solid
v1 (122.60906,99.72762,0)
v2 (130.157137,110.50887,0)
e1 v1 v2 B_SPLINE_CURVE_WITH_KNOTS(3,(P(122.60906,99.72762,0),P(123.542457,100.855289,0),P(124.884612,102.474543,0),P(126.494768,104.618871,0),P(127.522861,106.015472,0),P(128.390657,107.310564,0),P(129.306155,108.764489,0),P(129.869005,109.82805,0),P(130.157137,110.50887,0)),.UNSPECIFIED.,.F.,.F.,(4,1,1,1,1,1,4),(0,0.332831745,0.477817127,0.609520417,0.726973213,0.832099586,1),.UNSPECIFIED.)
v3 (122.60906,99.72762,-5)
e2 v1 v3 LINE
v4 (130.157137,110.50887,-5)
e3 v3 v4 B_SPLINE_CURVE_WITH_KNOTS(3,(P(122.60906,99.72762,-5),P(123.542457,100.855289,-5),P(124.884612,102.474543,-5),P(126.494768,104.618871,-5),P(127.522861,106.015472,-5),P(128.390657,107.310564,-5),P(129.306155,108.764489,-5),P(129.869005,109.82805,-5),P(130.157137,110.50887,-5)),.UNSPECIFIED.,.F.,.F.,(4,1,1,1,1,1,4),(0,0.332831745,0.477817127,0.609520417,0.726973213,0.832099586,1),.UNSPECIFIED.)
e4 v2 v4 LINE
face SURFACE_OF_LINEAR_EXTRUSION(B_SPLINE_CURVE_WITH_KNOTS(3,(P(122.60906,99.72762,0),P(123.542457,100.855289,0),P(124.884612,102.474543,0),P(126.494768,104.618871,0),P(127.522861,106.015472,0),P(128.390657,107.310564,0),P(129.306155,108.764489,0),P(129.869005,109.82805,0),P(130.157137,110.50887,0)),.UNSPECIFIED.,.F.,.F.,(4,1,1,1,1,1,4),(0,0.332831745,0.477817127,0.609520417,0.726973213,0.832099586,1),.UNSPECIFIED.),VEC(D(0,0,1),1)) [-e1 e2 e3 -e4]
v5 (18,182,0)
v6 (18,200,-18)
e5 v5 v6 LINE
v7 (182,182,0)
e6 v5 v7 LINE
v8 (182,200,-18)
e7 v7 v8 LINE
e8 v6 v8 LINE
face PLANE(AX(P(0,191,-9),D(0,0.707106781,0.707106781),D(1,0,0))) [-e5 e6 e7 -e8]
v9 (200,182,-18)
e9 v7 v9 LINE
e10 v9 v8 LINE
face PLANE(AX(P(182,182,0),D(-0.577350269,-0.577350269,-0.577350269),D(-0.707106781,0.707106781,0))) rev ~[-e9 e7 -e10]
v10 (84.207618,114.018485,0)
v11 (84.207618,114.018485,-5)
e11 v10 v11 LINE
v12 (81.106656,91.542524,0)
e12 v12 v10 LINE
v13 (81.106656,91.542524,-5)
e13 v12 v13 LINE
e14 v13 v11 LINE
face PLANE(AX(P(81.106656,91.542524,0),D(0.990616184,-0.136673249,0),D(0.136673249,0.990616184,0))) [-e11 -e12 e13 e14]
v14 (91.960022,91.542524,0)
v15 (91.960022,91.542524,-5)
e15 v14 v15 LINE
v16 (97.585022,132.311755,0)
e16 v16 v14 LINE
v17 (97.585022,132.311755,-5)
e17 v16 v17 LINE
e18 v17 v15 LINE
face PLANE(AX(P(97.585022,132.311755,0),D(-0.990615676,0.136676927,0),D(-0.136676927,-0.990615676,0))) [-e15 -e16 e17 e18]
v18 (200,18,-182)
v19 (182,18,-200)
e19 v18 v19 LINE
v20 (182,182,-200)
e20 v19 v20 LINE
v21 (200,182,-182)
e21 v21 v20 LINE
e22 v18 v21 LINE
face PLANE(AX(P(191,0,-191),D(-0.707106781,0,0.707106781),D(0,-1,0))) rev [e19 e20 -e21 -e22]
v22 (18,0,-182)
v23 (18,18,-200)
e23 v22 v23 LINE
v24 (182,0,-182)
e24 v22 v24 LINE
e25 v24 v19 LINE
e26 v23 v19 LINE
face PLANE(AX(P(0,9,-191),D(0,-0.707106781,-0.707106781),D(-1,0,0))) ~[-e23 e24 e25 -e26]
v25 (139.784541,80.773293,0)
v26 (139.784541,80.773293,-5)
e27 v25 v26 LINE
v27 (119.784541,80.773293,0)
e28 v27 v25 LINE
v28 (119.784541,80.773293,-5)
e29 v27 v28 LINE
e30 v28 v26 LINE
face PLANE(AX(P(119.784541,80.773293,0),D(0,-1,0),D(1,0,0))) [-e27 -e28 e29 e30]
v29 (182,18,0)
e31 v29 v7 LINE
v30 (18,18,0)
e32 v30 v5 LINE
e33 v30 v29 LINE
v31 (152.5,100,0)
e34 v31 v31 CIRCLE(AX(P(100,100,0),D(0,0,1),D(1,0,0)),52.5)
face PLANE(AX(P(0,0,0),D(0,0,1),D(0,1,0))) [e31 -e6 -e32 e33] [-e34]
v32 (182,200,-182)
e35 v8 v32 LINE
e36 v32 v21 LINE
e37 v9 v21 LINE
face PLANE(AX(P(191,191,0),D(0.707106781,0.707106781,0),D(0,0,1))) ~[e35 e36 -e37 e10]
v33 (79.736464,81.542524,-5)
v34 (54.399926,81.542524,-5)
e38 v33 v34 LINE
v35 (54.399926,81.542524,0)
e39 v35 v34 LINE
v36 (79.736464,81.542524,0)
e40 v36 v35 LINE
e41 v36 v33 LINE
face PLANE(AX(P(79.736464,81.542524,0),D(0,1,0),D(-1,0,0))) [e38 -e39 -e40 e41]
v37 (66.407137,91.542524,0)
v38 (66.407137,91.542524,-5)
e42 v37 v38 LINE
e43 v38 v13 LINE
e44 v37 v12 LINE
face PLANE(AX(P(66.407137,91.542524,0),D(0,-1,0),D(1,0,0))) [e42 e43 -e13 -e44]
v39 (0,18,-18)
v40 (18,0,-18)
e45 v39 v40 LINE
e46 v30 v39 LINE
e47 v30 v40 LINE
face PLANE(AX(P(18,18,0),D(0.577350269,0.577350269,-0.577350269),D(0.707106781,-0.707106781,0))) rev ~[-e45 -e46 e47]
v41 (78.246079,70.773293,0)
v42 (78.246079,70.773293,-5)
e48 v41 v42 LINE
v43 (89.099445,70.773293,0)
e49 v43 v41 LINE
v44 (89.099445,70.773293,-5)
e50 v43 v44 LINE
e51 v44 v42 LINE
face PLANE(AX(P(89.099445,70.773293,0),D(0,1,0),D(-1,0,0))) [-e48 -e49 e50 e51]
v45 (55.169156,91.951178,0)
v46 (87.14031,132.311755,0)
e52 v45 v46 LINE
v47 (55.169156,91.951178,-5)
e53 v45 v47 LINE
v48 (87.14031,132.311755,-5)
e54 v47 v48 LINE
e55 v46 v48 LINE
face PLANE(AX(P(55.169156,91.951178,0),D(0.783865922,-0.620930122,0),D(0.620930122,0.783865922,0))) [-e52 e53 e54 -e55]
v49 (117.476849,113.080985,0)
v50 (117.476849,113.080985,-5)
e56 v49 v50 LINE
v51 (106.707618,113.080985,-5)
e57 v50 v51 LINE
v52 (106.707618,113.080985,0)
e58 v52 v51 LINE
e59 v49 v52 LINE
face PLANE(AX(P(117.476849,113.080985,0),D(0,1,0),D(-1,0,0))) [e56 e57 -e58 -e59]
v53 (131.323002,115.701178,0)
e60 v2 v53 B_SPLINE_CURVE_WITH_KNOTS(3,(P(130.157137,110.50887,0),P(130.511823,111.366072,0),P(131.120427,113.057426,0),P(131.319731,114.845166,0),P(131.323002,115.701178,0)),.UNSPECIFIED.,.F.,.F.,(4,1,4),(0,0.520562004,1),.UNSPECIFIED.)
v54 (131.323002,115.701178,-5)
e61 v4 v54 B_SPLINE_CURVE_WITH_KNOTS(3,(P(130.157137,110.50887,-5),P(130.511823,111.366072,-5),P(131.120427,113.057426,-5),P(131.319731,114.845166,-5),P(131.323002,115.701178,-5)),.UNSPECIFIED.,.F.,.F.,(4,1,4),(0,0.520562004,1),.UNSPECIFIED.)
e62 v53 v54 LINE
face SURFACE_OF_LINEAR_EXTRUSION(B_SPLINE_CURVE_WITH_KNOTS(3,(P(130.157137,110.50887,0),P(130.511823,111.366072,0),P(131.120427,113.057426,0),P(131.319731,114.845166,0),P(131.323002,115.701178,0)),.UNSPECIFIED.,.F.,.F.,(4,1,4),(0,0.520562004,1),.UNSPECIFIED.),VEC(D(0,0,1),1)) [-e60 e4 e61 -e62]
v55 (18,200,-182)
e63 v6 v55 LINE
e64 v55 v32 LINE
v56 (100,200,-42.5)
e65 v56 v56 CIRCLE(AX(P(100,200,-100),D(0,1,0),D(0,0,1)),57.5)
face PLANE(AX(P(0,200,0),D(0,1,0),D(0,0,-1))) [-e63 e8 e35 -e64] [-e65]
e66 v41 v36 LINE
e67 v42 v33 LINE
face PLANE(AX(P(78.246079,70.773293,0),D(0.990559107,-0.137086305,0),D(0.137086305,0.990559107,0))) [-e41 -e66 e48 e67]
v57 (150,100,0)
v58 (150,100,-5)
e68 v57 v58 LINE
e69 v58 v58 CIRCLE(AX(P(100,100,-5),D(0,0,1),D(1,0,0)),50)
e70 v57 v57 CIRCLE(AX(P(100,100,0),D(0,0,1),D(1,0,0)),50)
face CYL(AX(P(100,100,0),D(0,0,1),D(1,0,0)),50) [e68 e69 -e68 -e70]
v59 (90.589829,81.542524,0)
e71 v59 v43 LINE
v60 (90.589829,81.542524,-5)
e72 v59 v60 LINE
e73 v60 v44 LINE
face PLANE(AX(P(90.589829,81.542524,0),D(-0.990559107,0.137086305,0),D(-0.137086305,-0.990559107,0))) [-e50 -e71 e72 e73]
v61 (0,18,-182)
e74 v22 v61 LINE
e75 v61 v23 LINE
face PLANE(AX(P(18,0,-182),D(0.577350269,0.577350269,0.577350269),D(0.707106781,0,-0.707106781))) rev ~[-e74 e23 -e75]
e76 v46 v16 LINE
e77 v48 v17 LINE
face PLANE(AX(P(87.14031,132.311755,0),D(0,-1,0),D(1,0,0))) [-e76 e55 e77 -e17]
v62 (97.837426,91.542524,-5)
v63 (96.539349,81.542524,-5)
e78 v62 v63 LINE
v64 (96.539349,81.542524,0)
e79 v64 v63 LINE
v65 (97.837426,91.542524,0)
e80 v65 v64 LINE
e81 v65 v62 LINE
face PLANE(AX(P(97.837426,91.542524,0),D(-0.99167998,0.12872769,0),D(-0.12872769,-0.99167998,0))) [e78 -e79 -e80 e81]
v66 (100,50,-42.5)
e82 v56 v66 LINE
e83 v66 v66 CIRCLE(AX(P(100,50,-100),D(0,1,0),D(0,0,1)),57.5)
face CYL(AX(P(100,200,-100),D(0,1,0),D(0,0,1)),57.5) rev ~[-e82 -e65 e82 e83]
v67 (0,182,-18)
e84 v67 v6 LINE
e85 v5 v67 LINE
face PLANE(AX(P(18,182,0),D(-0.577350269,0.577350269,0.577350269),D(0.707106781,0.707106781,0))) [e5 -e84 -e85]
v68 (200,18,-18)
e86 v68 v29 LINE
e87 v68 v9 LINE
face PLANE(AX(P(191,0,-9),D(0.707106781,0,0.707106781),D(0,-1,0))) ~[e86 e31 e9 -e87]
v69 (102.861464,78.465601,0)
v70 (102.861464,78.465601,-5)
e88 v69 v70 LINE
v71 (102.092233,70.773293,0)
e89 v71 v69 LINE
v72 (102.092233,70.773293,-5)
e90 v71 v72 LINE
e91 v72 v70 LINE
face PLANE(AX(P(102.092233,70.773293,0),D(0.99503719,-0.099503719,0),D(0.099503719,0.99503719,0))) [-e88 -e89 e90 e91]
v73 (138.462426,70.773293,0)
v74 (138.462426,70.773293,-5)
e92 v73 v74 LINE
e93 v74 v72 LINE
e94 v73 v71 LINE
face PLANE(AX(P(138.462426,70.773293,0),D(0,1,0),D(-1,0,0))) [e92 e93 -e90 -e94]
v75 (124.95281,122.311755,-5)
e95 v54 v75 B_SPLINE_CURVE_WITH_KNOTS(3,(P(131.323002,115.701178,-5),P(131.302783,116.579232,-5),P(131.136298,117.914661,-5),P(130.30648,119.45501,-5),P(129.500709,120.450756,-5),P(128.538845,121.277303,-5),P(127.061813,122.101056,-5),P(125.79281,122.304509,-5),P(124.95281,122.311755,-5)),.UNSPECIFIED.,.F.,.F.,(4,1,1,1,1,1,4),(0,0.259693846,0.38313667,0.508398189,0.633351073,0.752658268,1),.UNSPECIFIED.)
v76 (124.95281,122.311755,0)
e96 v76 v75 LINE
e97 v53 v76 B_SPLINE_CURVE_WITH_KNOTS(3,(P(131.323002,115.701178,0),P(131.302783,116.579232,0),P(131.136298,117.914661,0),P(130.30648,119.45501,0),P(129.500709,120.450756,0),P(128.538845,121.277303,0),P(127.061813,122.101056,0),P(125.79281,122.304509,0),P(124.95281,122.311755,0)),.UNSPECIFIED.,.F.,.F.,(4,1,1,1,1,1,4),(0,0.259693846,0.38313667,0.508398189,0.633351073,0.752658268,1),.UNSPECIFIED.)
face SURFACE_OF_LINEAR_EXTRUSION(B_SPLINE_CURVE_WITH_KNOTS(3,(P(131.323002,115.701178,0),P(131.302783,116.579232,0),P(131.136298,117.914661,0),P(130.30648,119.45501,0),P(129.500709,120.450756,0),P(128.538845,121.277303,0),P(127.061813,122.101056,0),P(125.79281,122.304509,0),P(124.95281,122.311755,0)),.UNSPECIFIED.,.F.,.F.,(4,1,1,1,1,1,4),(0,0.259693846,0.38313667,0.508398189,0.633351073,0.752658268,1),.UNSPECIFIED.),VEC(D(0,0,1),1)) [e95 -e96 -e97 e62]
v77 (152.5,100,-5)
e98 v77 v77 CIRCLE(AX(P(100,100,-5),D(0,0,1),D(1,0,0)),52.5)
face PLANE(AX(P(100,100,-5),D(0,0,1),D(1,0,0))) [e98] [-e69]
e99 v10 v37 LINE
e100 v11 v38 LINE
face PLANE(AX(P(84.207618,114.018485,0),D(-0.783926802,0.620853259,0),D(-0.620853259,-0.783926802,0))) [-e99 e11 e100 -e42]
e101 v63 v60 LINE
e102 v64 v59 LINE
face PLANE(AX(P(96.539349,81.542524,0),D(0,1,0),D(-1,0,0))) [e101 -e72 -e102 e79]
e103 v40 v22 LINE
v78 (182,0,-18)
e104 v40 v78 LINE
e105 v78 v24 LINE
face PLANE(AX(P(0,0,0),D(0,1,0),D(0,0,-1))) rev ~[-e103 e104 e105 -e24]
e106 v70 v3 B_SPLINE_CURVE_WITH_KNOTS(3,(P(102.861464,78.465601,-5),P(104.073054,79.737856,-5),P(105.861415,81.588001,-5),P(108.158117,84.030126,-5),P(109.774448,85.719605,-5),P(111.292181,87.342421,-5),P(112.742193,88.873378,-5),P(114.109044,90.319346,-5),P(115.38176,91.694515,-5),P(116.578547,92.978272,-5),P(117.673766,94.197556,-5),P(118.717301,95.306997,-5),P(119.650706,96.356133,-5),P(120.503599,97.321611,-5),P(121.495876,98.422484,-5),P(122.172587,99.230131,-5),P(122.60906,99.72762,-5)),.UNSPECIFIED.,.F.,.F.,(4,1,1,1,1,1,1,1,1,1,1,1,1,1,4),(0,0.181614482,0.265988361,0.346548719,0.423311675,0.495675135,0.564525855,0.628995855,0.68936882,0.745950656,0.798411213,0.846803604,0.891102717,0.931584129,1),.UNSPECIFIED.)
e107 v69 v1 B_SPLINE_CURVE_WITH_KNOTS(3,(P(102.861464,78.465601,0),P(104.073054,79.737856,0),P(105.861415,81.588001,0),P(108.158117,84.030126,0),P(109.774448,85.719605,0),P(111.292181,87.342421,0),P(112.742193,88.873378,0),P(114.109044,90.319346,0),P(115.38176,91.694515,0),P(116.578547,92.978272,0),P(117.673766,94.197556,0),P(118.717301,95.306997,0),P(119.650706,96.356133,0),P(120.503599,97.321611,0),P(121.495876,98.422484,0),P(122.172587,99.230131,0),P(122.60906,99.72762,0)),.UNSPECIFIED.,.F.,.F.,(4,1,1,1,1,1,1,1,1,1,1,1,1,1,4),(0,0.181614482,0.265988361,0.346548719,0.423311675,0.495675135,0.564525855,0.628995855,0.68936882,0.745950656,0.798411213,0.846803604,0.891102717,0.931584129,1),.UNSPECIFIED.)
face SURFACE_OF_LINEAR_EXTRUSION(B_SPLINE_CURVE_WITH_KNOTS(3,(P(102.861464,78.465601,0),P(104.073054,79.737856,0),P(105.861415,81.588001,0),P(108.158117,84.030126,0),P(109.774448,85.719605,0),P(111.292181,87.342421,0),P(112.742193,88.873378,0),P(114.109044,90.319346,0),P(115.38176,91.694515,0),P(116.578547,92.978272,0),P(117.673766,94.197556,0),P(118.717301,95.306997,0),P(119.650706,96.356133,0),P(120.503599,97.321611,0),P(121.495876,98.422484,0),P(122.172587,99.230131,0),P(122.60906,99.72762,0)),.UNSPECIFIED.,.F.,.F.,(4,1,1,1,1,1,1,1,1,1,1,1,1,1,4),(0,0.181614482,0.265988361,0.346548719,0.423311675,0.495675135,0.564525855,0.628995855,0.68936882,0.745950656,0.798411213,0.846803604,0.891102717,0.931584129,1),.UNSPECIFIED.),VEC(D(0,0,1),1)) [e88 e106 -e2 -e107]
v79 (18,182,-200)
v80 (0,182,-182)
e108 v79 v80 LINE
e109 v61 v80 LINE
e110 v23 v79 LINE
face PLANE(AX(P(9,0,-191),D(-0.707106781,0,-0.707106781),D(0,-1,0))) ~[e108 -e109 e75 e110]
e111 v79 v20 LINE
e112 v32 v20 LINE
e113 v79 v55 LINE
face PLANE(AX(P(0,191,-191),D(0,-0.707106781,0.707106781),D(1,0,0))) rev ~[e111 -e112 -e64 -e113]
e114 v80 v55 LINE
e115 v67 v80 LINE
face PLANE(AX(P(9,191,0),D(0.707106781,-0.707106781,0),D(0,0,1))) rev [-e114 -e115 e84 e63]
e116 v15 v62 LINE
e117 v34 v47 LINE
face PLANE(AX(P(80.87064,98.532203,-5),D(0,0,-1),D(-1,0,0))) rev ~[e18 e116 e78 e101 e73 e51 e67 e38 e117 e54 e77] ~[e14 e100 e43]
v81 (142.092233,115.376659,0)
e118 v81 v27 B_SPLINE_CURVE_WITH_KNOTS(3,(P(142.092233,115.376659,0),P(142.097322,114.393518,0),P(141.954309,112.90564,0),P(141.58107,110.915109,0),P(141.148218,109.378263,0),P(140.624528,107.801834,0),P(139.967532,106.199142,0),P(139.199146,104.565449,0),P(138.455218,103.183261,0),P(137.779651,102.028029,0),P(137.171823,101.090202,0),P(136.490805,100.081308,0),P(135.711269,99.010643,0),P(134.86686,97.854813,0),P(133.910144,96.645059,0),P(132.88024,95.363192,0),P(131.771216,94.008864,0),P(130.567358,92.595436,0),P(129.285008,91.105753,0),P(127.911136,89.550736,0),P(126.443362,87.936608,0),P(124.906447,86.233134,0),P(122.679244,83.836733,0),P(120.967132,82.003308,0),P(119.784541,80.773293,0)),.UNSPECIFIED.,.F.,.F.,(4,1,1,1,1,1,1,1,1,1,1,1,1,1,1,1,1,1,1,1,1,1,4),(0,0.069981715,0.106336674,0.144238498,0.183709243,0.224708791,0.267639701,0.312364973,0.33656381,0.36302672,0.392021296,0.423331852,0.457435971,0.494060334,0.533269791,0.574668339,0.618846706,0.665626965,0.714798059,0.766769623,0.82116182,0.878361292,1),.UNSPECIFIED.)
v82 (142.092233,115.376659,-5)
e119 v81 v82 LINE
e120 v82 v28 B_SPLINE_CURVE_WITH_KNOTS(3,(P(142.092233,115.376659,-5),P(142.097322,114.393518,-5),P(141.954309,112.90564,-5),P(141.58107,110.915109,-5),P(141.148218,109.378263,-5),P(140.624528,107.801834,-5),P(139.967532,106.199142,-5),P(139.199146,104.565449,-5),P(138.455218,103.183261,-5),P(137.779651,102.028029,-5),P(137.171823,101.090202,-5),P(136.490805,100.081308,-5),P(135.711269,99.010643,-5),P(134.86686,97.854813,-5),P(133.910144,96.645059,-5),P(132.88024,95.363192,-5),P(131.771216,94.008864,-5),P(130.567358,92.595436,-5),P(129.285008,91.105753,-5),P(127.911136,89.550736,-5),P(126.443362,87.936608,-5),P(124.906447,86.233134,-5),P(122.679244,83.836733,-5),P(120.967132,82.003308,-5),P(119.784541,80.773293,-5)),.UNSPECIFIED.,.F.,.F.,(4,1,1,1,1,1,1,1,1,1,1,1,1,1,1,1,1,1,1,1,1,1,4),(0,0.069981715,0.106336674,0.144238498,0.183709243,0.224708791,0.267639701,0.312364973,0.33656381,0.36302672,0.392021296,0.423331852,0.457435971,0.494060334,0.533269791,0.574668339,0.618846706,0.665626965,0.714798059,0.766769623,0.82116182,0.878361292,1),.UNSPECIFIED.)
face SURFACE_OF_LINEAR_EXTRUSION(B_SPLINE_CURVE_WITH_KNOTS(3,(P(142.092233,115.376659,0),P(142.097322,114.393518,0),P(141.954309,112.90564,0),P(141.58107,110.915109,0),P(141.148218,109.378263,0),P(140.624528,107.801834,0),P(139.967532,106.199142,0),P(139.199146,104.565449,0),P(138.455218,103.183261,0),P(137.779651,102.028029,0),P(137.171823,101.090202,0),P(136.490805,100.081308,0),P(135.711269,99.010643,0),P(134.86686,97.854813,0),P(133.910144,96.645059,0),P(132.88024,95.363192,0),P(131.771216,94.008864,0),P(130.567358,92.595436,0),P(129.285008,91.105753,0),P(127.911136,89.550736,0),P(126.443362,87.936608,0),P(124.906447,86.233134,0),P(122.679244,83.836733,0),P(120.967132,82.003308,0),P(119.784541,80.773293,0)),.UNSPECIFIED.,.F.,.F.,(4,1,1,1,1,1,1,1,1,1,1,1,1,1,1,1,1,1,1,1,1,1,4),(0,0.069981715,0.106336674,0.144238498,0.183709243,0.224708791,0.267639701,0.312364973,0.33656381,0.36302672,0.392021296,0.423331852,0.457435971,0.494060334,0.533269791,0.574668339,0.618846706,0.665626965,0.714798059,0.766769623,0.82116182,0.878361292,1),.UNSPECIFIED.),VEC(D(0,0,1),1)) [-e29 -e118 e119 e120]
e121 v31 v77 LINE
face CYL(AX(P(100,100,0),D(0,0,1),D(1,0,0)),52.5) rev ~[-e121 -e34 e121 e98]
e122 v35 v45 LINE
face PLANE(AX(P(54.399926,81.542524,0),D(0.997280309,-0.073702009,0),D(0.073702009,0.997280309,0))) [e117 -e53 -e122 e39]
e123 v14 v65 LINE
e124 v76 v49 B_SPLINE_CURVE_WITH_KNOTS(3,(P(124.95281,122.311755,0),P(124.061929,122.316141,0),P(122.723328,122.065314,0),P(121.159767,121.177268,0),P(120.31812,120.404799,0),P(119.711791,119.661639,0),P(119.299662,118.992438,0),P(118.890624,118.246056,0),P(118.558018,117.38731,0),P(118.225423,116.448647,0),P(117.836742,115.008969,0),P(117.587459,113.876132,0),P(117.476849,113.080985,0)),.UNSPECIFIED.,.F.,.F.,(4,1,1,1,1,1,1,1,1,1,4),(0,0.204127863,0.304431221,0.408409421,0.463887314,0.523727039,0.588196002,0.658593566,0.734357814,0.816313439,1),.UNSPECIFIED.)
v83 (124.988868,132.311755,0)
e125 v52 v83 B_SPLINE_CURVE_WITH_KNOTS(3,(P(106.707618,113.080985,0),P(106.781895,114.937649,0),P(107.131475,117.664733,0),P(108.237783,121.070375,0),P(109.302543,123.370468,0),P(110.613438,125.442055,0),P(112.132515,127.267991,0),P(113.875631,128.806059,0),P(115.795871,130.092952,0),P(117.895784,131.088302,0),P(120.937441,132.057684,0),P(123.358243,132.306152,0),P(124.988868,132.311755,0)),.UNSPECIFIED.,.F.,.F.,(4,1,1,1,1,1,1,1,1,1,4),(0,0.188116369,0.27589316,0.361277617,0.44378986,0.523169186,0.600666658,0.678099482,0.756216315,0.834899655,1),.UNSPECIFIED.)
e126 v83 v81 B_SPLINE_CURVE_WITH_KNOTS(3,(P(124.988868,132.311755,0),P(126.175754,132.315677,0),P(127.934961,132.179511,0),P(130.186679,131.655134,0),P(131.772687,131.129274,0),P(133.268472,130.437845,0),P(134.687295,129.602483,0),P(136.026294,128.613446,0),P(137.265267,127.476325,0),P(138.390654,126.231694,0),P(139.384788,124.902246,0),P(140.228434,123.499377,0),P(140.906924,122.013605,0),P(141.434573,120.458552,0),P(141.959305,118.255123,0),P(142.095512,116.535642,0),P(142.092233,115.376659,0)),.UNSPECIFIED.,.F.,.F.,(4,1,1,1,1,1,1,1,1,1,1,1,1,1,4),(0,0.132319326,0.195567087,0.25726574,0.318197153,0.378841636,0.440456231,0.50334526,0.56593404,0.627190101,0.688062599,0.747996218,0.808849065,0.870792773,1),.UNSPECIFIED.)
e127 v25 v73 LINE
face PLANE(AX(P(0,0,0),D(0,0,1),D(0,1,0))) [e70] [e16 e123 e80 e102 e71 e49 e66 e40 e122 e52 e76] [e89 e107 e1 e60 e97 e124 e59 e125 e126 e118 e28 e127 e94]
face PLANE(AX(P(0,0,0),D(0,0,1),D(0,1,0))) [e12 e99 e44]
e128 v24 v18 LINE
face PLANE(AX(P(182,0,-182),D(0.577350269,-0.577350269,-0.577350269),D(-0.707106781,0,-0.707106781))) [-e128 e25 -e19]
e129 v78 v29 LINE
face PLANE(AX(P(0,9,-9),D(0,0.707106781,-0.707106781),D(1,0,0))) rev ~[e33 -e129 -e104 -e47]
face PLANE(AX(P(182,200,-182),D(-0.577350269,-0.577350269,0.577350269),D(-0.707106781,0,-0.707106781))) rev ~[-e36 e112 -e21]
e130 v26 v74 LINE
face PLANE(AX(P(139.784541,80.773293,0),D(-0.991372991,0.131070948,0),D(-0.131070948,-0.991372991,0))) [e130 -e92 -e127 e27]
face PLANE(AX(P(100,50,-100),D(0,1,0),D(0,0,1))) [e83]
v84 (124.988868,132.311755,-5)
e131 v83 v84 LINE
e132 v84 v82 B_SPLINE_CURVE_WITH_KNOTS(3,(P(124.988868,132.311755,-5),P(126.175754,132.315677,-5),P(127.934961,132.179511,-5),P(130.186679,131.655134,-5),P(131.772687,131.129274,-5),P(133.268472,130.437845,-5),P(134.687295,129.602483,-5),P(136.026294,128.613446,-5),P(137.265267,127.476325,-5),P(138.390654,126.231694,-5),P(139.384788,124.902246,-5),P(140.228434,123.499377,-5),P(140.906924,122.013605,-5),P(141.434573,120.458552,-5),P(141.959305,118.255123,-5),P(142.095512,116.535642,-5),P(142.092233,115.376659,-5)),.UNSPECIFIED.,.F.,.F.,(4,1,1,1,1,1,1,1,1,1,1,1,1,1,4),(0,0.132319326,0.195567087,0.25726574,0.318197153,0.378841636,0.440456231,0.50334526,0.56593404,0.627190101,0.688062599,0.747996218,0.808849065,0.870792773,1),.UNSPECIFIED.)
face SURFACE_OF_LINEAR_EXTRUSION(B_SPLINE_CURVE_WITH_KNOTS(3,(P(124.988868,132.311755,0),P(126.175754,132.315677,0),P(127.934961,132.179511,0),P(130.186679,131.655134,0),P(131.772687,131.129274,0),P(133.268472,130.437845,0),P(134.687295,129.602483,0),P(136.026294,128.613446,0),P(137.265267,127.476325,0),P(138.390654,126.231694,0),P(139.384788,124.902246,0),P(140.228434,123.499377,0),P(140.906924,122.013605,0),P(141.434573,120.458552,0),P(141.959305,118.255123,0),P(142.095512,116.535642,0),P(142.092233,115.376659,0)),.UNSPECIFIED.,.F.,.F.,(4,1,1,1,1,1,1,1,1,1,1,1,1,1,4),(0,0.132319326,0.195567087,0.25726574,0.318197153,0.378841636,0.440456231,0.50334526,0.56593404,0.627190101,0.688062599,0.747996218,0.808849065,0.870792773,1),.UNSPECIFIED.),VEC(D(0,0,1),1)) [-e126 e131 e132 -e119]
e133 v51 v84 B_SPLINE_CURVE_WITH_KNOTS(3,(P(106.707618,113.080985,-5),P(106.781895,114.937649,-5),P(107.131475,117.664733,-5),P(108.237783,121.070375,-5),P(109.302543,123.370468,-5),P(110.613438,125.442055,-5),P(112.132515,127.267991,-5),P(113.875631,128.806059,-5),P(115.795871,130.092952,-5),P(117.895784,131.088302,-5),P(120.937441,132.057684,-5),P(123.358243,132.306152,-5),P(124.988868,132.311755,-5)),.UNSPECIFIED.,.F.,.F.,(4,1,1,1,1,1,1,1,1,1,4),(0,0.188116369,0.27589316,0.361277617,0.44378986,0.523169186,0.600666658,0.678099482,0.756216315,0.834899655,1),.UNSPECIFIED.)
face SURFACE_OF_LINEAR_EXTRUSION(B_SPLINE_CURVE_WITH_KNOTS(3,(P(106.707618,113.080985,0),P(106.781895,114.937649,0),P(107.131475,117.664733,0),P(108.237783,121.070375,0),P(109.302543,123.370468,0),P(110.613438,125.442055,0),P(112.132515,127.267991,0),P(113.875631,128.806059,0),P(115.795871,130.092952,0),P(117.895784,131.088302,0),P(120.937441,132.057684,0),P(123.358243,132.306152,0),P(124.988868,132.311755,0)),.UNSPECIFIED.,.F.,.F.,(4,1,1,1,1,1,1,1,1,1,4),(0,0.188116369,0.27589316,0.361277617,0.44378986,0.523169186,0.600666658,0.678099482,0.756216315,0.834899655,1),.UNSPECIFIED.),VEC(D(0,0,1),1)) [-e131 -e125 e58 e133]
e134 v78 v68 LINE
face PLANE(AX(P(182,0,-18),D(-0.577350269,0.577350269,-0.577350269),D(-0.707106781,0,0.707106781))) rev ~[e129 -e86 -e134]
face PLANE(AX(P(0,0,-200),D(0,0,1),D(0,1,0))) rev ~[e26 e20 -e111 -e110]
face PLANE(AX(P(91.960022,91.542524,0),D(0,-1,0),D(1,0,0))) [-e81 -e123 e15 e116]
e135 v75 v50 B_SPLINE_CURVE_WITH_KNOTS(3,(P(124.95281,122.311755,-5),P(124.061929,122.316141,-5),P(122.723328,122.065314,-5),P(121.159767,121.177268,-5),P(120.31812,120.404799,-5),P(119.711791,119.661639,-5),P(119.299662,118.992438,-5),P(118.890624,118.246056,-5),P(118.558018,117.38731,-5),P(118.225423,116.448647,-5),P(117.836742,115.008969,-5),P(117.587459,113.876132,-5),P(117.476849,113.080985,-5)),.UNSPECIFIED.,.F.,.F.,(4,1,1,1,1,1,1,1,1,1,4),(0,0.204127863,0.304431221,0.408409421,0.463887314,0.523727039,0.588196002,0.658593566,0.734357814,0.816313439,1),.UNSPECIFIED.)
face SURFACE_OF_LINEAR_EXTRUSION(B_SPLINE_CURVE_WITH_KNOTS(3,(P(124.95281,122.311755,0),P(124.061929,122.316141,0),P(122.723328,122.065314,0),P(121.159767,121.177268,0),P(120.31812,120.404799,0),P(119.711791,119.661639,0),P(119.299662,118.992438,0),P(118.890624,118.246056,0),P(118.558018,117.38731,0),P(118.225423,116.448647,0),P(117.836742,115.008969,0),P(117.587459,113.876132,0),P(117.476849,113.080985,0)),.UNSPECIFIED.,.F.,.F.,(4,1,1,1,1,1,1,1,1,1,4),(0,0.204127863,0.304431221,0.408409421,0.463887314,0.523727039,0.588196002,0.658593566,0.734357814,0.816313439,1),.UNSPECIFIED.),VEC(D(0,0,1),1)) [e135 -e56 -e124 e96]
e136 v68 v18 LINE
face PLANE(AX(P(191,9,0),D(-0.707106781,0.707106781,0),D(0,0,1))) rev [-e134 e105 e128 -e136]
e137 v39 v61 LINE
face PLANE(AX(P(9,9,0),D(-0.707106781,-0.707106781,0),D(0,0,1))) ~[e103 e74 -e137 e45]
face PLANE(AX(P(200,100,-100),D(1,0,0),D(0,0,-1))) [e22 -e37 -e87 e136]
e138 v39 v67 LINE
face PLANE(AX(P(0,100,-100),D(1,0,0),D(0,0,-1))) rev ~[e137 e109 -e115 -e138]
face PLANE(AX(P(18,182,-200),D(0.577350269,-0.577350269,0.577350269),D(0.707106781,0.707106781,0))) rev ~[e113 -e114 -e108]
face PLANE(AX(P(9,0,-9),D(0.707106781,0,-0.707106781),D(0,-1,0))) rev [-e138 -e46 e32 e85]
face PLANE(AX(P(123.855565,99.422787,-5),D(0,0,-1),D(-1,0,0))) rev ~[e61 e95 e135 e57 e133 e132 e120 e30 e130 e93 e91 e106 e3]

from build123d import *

# Parameters (mm, degrees)
SKETCH_1_W          = 200
SKETCH_1_H          = 200
EXTRUDE_1_DEPTH     = 200
CHAMFER_1_SIZE      = 18
SKETCH_2_R          = 57.5
CUT_EXTRUDE_1_DEPTH = 150
SKETCH_3_R          = 52.5
SKETCH_3_R_2        = 50
CUT_EXTRUDE_4_DEPTH = 5


with BuildPart() as part:
    # Sketch 1 → Extrude 1 (new body)
    with BuildSketch(Plane(origin=(0, 0, 0), x_dir=(0, 0, -1), z_dir=(1, 0, 0))):
        with Locations((100, 100)):
            Rectangle(SKETCH_1_W, SKETCH_1_H)
    extrude(amount=EXTRUDE_1_DEPTH)

    # Chamfer 1
    chamfer_1_edges = [part.edges().sort_by_distance(p)[0] for p in [
        (200, 100, -200),
        (200, 200, -100),
        (200, 100, 0),
        (0, 200, -100),
        (0, 100, -200),
        (0, 0, -100),
        (0, 100, 0),
        (200, 0, -100),
        (100, 200, 0),
        (100, 200, -200),
        (100, 0, -200),
        (100, 0, 0),
    ]]
    chamfer(chamfer_1_edges, length=CHAMFER_1_SIZE)

    # Sketch 2 → Cut-Extrude 1 (cut)
    with BuildSketch(Plane(origin=(0, 200, 0), x_dir=(1, 0, 0), z_dir=(0, 1, 0))):
        with Locations(Location((100, 100, 0), (0, 0, 270))):
            Circle(SKETCH_2_R)
    extrude(amount=-CUT_EXTRUDE_1_DEPTH, mode=Mode.SUBTRACT)

    # Sketch 3 → Cut-Extrude 4 (cut)
    with BuildSketch(Plane.XY):
        with Locations((100, 100)):
            Circle(SKETCH_3_R)
        with Locations((100, 100)):
            Circle(SKETCH_3_R_2, mode=Mode.SUBTRACT)
        with BuildLine():
            add(Edge.make_bspline(
                [(124.952810184, 122.311754672), (124.061928668, 122.316141415), (122.723328375, 122.065314477), (121.15976707, 121.17726781), (120.31812048, 120.404799304), (119.711791362, 119.661639483), (119.299662129, 118.992437635), (118.890623993, 118.246055909), (118.558018296, 117.387310251), (118.225423141, 116.448647339), (117.836741696, 115.008969129), (117.587459376, 113.876131637), (117.476848645, 113.080985442)],
                knots=[0, 0, 0, 0, 0.204127863, 0.304431221, 0.408409421, 0.463887314, 0.523727039, 0.588196002, 0.658593566, 0.734357814, 0.816313439, 1, 1, 1, 1], degree=3))
            Line((117.476848645, 113.080985442), (106.707617876, 113.080985442))
            add(Edge.make_bspline(
                [(106.707617876, 113.080985442), (106.781895264, 114.937649447), (107.131475338, 117.664732571), (108.237782966, 121.070374863), (109.302543269, 123.370468484), (110.613437766, 125.442055382), (112.132515124, 127.267990733), (113.875631172, 128.806059043), (115.795871388, 130.092952145), (117.895783577, 131.088301864), (120.9374414, 132.05768373), (123.358242769, 132.306151558), (124.988867876, 132.311754672)],
                knots=[0, 0, 0, 0, 0.188116369, 0.27589316, 0.361277617, 0.44378986, 0.523169186, 0.600666658, 0.678099482, 0.756216315, 0.834899655, 1, 1, 1, 1], degree=3))
            add(Edge.make_bspline(
                [(124.988867876, 132.311754672), (126.175754308, 132.315676764), (127.93496111, 132.179510664), (130.186678669, 131.655134145), (131.7726869, 131.129273666), (133.268472003, 130.437845008), (134.687294958, 129.602483287), (136.026293603, 128.613446176), (137.265267034, 127.476325352), (138.390653811, 126.231694174), (139.384787852, 124.902245602), (140.228434325, 123.499377361), (140.906924261, 122.013604885), (141.434573231, 120.458552141), (141.959304994, 118.255123496), (142.09551179, 116.535641705), (142.092233261, 115.376658519)],
                knots=[0, 0, 0, 0, 0.132319326, 0.195567087, 0.25726574, 0.318197153, 0.378841636, 0.440456231, 0.50334526, 0.56593404, 0.627190101, 0.688062599, 0.747996218, 0.808849065, 0.870792773, 1, 1, 1, 1], degree=3))
            add(Edge.make_bspline(
                [(142.092233261, 115.376658519), (142.09732202, 114.393518355), (141.95430932, 112.905639606), (141.581070463, 110.915109319), (141.148217608, 109.37826343), (140.624528159, 107.801834253), (139.967531924, 106.199142481), (139.199146108, 104.565449003), (138.455218348, 103.183260504), (137.779650529, 102.028028639), (137.171822841, 101.090201616), (136.490804976, 100.08130842), (135.711268931, 99.01064295), (134.866860384, 97.854812526), (133.910144174, 96.645058775), (132.880240035, 95.363192003), (131.771215601, 94.008863585), (130.567357552, 92.595436285), (129.285008389, 91.105753441), (127.911135514, 89.550736384), (126.443361597, 87.93660771), (124.906447454, 86.233134327), (122.679244122, 83.836732523), (120.967131822, 82.003308094), (119.784540953, 80.773293134)],
                knots=[0, 0, 0, 0, 0.069981715, 0.106336674, 0.144238498, 0.183709243, 0.224708791, 0.267639701, 0.312364973, 0.33656381, 0.36302672, 0.392021296, 0.423331852, 0.457435971, 0.494060334, 0.533269791, 0.574668339, 0.618846706, 0.665626965, 0.714798059, 0.766769623, 0.82116182, 0.878361292, 1, 1, 1, 1], degree=3))
            Line((119.784540953, 80.773293134), (139.784540953, 80.773293134))
            Line((139.784540953, 80.773293134), (138.462425568, 70.773293134))
            Line((138.462425568, 70.773293134), (102.092233261, 70.773293134))
            Line((102.092233261, 70.773293134), (102.86146403, 78.465600826))
            add(Edge.make_bspline(
                [(102.86146403, 78.465600826), (104.073053727, 79.737856076), (105.861414534, 81.588001167), (108.15811719, 84.030126363), (109.77444844, 85.719605027), (111.292181295, 87.342421418), (112.742192845, 88.873377879), (114.109044196, 90.319346392), (115.381760254, 91.694514713), (116.578546994, 92.97827206), (117.673765861, 94.197556125), (118.717301158, 95.306997342), (119.650706014, 96.356133448), (120.503599196, 97.32161107), (121.495876039, 98.422484298), (122.172586535, 99.230130727), (122.609060184, 99.727620057)],
                knots=[0, 0, 0, 0, 0.181614482, 0.265988361, 0.346548719, 0.423311675, 0.495675135, 0.564525855, 0.628995855, 0.68936882, 0.745950656, 0.798411213, 0.846803604, 0.891102717, 0.931584129, 1, 1, 1, 1], degree=3))
            add(Edge.make_bspline(
                [(122.609060184, 99.727620057), (123.542457488, 100.855288981), (124.884611957, 102.474543208), (126.494767665, 104.618871476), (127.522861077, 106.015472175), (128.390657407, 107.310563545), (129.306154563, 108.764488546), (129.869005007, 109.828049592), (130.157137107, 110.508870057)],
                knots=[0, 0, 0, 0, 0.332831745, 0.477817127, 0.609520417, 0.726973213, 0.832099586, 1, 1, 1, 1], degree=3))
            add(Edge.make_bspline(
                [(130.157137107, 110.508870057), (130.511822539, 111.366072382), (131.120426847, 113.057426489), (131.319730922, 114.845166367), (131.323002492, 115.701177749)],
                knots=[0, 0, 0, 0, 0.520562004, 1, 1, 1, 1], degree=3))
            add(Edge.make_bspline(
                [(131.323002492, 115.701177749), (131.302782595, 116.579231828), (131.136297941, 117.914660904), (130.3064802, 119.455009614), (129.500708922, 120.45075585), (128.538845138, 121.277303266), (127.061812678, 122.101056155), (125.792809521, 122.304509149), (124.952810184, 122.311754672)],
                knots=[0, 0, 0, 0, 0.259693846, 0.38313667, 0.508398189, 0.633351073, 0.752658268, 1, 1, 1, 1], degree=3))
        make_face()
        Polygon((55.169156338, 91.951177749), (87.140310184, 132.311754672), (97.585021722, 132.311754672), (91.960021722, 91.542523903), (97.837425568, 91.542523903), (96.539348645, 81.542523903), (90.589829415, 81.542523903), (89.099444799, 70.773293134), (78.246079415, 70.773293134), (79.73646403, 81.542523903), (54.399925568, 81.542523903), align=None)
        Polygon((81.106656338, 91.542523903), (84.207617876, 114.018485442), (66.407137107, 91.542523903), align=None, mode=Mode.SUBTRACT)
    extrude(amount=-CUT_EXTRUDE_4_DEPTH, mode=Mode.SUBTRACT)


solid = part.part
